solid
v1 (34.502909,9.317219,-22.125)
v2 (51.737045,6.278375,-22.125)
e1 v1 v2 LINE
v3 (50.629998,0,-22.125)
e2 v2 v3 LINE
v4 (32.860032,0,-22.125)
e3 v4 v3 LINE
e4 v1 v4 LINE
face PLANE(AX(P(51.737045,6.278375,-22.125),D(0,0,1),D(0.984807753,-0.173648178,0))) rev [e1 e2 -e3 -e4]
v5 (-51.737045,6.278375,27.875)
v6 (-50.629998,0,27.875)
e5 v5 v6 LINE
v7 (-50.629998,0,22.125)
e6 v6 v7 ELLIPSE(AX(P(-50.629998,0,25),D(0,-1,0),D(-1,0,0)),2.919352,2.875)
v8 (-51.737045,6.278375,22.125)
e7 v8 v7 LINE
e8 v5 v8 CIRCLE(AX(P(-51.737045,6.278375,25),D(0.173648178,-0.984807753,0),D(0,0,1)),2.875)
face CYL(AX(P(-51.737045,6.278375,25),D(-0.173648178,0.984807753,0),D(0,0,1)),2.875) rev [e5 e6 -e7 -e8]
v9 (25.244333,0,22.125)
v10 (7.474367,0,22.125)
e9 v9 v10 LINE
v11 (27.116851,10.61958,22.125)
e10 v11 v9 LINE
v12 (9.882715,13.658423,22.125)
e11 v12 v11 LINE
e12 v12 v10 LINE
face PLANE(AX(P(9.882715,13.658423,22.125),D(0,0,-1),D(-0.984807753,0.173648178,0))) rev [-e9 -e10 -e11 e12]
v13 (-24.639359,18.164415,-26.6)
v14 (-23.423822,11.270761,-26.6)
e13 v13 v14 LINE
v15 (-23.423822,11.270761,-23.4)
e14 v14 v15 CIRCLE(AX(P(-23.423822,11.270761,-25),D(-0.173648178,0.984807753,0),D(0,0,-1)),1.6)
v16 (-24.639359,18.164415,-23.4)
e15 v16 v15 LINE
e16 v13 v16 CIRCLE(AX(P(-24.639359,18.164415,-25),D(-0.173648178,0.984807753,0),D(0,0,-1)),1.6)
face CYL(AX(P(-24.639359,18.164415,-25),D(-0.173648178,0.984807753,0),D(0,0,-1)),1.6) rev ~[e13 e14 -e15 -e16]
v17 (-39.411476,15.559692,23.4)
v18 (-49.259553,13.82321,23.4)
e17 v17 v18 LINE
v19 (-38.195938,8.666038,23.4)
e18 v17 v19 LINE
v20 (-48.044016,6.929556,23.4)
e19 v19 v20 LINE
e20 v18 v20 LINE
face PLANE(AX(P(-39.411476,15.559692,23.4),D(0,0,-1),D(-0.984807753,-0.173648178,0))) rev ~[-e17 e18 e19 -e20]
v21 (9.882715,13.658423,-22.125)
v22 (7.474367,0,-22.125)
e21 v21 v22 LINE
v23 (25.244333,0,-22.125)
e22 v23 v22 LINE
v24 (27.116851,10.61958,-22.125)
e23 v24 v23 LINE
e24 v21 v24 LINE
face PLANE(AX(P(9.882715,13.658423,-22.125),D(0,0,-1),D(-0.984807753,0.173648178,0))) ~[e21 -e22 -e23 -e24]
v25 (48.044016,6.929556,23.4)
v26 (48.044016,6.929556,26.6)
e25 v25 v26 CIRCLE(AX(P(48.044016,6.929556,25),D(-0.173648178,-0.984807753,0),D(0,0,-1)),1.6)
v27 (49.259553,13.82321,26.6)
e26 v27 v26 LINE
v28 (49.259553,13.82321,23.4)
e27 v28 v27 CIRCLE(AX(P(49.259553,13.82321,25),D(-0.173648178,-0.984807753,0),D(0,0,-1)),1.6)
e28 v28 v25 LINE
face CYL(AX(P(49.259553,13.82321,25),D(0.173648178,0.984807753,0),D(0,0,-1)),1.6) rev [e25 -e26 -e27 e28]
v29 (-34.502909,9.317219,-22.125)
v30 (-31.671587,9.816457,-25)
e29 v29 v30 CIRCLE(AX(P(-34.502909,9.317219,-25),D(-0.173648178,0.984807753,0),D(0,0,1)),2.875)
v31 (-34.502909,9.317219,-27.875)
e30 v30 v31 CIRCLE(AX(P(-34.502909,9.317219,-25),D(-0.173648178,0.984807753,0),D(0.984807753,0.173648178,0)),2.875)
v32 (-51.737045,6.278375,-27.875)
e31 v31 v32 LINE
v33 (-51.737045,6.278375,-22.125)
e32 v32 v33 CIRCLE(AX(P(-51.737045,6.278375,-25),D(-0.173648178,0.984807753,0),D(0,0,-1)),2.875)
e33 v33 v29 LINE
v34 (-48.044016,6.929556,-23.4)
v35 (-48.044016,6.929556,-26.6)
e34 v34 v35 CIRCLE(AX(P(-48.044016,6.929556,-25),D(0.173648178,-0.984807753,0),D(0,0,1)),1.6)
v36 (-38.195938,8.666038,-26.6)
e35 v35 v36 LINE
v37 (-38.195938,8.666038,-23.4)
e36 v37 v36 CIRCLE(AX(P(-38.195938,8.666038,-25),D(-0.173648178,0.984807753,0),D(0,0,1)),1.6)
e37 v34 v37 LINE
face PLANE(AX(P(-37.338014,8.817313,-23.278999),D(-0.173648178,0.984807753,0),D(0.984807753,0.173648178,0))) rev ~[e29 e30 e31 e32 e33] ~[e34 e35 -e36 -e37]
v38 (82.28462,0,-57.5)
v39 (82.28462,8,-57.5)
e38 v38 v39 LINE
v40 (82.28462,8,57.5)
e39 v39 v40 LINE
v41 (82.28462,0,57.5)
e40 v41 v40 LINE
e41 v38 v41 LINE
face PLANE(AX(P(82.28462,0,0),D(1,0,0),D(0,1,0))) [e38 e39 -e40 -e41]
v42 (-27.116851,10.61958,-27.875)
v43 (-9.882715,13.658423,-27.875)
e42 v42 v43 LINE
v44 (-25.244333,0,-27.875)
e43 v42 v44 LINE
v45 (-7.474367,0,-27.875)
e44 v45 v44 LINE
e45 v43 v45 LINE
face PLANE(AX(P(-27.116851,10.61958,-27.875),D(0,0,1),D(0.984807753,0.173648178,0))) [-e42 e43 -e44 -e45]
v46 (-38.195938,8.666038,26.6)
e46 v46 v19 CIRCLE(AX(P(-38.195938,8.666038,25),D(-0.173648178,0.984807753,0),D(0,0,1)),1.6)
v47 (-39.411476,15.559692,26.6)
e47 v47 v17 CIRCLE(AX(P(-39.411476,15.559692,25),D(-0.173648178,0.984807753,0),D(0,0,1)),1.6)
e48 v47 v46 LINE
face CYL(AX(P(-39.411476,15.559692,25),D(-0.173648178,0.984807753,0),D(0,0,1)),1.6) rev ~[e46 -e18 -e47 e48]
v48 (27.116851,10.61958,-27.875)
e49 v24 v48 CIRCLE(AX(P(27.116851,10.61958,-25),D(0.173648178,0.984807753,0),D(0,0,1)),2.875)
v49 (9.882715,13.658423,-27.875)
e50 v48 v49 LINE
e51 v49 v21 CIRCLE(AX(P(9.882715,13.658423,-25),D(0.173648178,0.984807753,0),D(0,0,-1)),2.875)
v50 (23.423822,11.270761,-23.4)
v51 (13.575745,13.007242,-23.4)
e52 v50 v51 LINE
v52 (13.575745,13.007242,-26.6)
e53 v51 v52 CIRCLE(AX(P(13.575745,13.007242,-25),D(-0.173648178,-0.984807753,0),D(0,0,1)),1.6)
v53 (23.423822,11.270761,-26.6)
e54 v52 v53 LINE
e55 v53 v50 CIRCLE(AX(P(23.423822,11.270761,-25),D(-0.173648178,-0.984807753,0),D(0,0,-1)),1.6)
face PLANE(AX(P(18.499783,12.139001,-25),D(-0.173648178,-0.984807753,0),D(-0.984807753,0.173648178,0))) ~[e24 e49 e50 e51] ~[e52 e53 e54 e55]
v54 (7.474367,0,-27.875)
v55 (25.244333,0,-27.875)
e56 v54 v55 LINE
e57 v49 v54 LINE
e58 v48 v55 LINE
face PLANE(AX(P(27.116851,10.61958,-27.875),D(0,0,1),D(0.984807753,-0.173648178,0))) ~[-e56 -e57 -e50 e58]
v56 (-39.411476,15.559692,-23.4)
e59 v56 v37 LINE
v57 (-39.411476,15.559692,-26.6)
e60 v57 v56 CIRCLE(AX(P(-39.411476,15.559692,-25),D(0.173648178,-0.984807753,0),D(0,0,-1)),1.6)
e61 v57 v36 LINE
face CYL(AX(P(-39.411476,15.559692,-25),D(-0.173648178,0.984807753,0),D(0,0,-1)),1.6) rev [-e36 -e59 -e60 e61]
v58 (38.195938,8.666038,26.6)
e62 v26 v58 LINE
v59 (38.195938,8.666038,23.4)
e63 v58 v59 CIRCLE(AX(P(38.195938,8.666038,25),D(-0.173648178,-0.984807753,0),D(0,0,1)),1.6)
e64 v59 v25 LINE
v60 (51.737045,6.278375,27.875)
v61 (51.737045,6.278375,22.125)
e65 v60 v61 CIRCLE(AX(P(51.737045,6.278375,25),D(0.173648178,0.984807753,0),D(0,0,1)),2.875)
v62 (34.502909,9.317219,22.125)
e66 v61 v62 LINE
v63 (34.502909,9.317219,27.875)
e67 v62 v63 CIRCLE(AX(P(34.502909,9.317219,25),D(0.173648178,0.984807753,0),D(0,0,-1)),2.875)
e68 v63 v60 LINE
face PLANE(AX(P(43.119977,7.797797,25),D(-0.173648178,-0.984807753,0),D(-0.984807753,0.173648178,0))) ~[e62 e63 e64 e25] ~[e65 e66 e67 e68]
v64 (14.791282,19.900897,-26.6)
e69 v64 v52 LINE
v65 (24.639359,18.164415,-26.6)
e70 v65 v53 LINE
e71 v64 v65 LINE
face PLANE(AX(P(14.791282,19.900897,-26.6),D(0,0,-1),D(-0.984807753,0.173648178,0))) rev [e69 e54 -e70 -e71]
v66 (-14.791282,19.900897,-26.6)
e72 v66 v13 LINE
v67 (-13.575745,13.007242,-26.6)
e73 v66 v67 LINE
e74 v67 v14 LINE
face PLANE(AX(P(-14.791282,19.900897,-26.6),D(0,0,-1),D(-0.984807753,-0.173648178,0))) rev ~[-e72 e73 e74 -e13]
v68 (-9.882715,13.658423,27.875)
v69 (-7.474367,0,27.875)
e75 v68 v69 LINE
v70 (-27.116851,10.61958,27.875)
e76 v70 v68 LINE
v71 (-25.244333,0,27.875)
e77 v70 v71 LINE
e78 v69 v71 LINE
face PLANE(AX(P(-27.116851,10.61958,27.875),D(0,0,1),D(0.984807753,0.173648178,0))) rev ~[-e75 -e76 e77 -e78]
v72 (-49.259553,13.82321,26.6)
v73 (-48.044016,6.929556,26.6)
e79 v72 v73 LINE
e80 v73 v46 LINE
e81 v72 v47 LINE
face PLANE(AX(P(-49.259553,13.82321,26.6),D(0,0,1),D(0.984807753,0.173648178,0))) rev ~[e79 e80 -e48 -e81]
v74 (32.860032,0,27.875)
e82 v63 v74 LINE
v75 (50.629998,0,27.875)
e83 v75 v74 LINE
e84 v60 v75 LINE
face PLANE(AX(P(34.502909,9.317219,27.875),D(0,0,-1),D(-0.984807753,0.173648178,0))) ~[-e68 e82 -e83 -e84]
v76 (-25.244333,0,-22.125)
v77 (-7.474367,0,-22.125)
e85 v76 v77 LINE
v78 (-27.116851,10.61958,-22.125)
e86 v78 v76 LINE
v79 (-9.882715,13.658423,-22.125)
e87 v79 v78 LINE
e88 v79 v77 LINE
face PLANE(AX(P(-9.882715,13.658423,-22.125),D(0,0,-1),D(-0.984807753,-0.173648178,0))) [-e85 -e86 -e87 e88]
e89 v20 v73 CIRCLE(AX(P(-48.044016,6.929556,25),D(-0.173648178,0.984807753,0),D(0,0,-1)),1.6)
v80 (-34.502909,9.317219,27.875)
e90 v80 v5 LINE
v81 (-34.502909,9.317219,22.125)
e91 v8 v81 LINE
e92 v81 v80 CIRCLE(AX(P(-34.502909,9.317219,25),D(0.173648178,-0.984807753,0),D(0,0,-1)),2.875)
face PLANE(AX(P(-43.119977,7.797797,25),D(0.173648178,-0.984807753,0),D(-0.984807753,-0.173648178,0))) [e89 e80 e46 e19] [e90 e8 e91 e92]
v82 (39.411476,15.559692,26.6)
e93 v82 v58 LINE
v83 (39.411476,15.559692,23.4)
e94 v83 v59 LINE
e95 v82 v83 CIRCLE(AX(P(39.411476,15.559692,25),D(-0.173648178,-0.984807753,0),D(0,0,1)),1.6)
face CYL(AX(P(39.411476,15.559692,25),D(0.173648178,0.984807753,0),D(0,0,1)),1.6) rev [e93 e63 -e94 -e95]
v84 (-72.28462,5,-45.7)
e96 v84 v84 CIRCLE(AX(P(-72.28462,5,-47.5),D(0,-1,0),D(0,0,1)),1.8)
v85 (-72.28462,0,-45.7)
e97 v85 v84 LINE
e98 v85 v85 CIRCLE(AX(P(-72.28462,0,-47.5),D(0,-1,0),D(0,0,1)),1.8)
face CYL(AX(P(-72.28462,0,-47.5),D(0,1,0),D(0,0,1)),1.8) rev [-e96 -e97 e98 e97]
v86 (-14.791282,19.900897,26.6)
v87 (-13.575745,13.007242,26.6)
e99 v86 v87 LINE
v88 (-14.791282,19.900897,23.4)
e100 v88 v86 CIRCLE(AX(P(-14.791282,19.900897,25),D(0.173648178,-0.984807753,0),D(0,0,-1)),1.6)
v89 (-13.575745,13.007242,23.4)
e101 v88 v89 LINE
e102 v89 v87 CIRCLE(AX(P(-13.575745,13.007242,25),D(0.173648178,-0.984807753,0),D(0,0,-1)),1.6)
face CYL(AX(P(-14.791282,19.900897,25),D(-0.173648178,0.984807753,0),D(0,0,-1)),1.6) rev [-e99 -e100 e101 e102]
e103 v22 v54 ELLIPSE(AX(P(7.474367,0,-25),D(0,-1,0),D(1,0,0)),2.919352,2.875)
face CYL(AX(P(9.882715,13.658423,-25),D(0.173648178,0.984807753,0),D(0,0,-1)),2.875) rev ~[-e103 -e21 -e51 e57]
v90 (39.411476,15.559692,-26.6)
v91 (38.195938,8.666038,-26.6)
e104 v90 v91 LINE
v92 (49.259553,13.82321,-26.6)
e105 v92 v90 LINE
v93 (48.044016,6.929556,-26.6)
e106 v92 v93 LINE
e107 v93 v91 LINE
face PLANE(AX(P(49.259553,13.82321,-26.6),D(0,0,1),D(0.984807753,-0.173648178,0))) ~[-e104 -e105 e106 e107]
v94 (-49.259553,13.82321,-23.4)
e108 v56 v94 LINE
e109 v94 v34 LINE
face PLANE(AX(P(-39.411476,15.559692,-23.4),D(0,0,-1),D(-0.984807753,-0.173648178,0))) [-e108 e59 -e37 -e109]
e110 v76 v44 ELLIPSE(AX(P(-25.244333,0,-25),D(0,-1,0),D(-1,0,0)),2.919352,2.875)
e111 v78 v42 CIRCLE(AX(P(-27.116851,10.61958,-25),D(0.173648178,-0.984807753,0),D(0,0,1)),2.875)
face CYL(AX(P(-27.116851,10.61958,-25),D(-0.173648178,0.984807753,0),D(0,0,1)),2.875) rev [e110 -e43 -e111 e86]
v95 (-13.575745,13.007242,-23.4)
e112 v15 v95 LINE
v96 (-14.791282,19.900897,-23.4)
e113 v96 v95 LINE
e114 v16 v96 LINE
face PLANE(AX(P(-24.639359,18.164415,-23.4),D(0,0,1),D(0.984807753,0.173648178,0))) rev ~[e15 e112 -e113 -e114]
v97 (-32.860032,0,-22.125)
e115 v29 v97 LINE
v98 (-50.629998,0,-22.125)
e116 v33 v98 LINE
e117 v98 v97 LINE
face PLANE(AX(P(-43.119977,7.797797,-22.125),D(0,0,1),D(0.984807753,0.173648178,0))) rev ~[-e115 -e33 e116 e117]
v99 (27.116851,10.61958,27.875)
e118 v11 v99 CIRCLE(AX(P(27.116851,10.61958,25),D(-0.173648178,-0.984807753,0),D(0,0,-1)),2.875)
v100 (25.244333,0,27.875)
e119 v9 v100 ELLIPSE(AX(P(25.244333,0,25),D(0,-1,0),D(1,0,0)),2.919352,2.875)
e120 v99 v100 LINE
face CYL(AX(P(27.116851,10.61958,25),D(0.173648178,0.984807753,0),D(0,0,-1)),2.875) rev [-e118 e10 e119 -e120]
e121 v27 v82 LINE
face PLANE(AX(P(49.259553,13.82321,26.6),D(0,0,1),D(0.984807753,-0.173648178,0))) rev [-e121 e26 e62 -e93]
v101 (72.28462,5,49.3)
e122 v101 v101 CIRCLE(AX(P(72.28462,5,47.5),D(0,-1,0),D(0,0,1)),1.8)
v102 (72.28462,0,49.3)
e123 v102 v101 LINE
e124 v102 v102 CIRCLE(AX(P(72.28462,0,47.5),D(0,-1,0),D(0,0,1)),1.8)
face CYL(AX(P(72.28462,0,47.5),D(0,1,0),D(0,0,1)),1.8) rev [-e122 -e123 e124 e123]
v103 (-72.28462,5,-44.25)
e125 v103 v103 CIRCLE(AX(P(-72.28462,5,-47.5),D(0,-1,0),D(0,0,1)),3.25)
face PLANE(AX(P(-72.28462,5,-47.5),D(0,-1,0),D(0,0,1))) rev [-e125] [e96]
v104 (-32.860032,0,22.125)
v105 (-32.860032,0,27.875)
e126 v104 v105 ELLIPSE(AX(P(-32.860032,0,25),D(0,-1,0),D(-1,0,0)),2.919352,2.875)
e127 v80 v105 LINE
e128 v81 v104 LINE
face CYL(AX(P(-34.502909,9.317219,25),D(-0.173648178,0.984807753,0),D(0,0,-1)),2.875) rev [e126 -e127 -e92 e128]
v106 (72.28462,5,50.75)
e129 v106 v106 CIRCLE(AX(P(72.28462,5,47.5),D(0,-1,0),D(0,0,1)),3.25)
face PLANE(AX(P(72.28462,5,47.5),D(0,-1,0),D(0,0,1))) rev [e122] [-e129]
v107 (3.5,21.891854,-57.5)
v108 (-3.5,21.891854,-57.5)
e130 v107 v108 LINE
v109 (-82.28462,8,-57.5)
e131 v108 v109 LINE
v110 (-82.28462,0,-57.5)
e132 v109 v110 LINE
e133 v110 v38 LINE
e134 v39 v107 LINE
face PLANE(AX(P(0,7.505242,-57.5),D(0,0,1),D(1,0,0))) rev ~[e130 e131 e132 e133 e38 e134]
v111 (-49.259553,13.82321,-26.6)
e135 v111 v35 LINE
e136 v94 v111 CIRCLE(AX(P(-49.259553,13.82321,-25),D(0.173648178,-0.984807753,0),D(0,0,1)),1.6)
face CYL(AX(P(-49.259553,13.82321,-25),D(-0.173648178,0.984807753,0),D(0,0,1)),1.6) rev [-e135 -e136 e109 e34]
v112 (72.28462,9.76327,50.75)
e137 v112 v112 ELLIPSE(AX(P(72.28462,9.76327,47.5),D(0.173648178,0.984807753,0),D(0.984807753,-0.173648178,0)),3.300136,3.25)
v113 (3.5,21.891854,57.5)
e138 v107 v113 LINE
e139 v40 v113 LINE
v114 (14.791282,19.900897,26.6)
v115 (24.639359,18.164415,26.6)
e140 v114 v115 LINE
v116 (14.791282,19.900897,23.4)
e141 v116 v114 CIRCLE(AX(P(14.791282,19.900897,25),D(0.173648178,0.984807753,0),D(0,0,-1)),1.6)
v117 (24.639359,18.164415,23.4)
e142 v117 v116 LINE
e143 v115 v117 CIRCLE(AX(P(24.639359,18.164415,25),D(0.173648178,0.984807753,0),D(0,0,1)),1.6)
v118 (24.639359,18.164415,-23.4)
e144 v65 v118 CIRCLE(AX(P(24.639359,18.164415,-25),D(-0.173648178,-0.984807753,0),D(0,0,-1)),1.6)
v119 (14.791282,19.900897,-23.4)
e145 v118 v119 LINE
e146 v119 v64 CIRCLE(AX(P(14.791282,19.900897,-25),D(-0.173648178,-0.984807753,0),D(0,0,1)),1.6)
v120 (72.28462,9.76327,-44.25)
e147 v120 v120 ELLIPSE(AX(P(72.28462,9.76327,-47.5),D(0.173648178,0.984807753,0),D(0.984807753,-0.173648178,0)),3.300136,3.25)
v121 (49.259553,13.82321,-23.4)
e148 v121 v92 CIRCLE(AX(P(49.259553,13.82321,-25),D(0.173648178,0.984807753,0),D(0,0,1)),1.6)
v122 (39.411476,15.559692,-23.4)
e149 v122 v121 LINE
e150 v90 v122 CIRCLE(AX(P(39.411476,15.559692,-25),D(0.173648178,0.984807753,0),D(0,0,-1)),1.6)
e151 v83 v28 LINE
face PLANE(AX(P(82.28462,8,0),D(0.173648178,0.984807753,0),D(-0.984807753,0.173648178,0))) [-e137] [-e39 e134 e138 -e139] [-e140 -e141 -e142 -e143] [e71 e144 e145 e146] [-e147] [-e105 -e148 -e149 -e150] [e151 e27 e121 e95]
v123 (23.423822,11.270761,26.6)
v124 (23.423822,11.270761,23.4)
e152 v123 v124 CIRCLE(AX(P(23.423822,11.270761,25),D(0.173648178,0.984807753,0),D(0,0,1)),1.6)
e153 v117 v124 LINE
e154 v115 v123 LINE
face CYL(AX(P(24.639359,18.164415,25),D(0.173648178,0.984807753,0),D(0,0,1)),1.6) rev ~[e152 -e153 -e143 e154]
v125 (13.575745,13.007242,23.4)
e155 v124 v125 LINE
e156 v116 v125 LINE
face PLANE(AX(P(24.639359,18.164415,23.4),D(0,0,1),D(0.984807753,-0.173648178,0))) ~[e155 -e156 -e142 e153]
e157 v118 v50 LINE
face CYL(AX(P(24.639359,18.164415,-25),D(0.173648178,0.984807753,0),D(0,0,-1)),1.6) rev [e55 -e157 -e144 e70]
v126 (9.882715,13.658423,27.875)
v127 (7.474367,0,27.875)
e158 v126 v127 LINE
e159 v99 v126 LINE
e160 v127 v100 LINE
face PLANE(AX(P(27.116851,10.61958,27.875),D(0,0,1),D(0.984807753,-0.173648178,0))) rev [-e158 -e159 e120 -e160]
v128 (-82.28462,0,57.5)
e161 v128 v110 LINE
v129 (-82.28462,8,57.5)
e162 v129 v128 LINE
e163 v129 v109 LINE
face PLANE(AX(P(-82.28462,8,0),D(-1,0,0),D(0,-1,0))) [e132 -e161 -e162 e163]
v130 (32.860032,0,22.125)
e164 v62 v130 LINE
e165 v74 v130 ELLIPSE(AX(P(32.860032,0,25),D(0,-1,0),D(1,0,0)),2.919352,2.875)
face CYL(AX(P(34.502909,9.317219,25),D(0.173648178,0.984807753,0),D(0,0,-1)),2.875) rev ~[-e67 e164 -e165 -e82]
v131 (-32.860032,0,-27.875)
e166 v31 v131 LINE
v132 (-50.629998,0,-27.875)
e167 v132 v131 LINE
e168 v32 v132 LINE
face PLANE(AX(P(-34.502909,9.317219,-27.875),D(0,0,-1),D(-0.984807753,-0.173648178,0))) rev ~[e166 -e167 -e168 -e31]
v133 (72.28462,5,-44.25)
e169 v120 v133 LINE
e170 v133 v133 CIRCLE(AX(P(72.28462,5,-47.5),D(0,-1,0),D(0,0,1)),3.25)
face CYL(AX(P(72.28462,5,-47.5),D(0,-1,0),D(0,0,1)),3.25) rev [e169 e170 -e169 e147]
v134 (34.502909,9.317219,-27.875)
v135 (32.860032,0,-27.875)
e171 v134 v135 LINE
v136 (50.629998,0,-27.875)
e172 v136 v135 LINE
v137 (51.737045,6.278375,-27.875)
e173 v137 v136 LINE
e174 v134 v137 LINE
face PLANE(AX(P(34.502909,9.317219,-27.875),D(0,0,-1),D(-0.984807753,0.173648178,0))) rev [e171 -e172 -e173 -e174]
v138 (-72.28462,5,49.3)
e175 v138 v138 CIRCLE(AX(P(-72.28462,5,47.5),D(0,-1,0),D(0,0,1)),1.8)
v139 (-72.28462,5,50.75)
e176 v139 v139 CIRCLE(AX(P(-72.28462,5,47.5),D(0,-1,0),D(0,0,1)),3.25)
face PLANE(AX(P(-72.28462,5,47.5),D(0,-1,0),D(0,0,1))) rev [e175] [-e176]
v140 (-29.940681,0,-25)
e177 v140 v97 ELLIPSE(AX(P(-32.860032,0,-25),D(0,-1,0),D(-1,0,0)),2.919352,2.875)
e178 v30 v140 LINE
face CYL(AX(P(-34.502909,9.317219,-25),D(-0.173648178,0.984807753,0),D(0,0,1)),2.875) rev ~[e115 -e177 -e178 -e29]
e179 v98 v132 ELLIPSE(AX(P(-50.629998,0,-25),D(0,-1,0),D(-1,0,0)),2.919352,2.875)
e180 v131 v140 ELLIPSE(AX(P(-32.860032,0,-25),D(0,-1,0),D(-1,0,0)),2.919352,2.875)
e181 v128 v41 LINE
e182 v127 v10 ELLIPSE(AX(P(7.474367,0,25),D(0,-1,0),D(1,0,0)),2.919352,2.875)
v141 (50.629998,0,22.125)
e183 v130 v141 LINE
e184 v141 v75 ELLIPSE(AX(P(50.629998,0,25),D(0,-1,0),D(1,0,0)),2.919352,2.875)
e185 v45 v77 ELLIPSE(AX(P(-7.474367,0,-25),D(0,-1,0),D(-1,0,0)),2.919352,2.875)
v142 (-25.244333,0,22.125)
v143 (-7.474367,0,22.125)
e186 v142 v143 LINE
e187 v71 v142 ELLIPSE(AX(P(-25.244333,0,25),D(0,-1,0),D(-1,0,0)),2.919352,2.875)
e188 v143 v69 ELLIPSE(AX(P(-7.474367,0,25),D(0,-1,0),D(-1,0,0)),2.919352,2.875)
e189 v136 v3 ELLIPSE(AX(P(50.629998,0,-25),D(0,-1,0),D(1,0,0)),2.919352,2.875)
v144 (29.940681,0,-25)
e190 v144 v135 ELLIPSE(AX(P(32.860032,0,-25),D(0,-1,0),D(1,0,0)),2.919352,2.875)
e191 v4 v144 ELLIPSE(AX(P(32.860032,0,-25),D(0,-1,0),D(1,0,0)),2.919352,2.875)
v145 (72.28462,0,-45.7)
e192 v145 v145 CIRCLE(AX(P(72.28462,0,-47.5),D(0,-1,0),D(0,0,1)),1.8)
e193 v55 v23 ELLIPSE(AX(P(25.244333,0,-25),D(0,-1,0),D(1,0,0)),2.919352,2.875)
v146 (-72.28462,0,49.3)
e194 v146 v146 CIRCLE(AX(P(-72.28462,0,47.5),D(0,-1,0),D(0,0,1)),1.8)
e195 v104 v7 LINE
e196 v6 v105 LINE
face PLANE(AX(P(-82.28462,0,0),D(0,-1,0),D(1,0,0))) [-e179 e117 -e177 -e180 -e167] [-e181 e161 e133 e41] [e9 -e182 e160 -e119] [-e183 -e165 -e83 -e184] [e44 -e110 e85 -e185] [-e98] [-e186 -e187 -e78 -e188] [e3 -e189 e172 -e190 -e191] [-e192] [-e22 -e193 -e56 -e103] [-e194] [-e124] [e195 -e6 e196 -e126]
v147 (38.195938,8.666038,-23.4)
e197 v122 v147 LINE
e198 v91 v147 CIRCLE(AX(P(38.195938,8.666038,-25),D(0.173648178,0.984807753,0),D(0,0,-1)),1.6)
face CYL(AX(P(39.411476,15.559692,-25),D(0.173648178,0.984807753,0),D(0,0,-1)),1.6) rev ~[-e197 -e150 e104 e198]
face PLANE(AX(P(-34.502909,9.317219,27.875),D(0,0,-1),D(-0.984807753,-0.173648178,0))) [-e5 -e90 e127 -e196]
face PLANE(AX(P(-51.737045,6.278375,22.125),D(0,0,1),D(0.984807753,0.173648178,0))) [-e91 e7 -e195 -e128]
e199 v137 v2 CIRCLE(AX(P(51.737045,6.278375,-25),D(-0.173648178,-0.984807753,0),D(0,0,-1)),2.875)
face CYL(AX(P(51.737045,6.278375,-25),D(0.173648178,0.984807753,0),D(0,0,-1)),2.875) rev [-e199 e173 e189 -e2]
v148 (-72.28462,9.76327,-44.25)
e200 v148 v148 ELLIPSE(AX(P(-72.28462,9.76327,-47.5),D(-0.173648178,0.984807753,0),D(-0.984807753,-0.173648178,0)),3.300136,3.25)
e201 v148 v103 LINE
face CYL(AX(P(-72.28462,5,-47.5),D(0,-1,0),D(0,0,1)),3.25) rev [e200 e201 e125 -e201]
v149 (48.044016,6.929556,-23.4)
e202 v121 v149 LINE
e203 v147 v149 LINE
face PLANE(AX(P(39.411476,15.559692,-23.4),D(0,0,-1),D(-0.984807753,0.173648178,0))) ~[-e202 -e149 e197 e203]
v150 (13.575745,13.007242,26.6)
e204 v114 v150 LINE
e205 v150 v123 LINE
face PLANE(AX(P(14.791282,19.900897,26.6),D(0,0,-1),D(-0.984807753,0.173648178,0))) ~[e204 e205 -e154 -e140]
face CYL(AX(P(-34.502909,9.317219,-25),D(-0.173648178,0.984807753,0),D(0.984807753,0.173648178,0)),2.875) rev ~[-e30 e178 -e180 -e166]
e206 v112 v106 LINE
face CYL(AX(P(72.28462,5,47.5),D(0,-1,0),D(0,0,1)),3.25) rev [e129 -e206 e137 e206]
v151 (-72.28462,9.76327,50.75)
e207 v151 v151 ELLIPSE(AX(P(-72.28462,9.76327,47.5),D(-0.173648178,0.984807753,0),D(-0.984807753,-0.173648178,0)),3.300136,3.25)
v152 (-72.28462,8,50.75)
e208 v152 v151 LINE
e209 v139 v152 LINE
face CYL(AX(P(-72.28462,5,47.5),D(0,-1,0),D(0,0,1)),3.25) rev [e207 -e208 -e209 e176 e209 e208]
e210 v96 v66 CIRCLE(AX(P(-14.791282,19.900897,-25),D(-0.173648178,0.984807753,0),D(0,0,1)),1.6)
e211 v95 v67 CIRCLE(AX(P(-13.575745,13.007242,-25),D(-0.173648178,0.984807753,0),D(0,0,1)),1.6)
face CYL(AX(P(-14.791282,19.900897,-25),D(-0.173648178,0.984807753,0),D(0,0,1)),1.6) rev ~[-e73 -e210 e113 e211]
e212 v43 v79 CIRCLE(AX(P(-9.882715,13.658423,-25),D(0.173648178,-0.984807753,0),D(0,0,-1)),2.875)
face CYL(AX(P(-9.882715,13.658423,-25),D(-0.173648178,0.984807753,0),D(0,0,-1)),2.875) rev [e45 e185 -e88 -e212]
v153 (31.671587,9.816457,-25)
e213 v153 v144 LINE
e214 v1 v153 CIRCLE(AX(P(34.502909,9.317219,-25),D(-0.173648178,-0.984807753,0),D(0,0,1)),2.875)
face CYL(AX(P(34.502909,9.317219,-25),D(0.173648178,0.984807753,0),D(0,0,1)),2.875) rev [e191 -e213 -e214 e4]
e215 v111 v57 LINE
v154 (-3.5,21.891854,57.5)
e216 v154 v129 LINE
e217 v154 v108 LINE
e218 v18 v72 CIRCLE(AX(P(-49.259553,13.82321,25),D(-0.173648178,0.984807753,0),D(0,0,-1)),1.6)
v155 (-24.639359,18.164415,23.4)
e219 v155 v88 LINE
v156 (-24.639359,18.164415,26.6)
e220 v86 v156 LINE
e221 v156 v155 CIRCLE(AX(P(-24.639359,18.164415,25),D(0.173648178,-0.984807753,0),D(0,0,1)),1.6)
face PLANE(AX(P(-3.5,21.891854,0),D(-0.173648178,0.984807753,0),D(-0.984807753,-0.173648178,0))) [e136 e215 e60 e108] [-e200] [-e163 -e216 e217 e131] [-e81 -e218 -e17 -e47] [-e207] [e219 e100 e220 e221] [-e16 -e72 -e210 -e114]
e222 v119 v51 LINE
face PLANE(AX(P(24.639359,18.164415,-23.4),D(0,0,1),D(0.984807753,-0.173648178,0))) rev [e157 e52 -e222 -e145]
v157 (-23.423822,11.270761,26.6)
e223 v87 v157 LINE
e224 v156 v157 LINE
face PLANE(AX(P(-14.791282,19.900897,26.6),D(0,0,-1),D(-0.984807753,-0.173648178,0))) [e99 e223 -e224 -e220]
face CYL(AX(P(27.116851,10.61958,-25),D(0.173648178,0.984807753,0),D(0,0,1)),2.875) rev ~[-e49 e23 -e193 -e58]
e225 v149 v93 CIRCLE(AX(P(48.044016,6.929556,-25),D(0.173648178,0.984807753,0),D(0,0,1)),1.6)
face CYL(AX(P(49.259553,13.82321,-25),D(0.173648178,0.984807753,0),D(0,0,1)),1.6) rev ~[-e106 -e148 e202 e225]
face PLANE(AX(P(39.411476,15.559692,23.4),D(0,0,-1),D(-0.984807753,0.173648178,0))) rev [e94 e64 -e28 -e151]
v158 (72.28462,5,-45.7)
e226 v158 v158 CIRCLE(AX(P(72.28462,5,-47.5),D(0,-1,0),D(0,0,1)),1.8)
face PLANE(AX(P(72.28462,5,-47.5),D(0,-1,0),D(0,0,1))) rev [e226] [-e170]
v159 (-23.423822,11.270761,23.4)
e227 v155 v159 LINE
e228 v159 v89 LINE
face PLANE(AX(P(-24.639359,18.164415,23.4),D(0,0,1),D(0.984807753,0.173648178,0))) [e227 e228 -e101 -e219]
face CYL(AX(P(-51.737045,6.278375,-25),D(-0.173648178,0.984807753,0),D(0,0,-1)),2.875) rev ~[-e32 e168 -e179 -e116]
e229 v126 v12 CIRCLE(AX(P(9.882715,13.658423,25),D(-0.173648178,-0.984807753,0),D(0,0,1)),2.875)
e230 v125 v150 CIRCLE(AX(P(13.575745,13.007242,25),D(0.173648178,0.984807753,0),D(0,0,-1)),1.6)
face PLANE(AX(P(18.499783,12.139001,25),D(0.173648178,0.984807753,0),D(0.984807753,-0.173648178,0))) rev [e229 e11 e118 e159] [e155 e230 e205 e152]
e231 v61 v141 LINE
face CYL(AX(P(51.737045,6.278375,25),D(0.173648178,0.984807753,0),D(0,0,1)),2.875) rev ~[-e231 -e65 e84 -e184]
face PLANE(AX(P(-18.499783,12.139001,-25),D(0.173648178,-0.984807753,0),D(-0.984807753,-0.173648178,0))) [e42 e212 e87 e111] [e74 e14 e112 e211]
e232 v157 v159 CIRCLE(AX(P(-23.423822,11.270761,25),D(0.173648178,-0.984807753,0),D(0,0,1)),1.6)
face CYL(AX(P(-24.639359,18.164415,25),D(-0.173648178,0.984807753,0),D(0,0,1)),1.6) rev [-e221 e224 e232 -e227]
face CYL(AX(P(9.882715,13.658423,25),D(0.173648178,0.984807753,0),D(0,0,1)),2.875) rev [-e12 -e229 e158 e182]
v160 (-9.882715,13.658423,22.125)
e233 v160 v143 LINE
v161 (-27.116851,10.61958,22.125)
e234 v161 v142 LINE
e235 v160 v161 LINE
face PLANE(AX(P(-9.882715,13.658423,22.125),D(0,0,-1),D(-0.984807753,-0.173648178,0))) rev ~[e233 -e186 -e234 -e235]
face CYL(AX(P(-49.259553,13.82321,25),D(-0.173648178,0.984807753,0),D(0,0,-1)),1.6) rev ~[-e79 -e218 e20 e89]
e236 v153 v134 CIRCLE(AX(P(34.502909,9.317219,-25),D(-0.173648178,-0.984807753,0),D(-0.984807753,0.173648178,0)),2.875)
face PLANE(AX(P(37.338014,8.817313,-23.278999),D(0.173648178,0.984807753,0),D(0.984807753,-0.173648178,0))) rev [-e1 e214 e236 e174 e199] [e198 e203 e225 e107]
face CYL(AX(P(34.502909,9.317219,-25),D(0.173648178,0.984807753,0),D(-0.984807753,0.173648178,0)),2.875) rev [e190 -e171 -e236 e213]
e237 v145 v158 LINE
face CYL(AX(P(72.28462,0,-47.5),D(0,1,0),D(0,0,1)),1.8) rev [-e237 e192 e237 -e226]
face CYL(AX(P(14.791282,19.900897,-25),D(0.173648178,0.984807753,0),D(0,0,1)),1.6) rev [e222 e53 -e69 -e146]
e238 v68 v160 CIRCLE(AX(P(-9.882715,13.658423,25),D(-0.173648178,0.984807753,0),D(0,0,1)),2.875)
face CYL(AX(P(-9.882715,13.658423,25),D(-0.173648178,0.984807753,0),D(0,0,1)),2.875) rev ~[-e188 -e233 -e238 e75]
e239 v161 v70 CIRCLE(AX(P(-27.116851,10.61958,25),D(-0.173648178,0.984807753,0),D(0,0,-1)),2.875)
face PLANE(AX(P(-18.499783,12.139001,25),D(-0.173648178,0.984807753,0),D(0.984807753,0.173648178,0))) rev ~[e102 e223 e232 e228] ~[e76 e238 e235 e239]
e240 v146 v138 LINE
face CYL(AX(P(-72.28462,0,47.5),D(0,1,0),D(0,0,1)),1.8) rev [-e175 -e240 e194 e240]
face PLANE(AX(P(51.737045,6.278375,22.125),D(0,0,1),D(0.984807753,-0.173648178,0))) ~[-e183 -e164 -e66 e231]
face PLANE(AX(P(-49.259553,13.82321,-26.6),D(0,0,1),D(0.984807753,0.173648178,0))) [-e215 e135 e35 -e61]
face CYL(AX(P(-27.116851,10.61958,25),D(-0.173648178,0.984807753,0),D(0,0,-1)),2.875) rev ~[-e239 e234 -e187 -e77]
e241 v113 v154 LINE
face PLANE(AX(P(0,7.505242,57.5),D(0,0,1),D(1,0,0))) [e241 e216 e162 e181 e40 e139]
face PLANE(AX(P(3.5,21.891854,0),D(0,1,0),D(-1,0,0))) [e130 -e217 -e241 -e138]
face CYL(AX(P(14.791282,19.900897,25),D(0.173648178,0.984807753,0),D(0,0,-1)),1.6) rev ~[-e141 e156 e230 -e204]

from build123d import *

# Parameters (mm, degrees)
BOSS_EXTRUDE1_DEPTH           = 57.5
CUT_EXTRUDE1_DEPTH            = 7
CUT_EXTRUDE4_START            = -7
CUT_EXTRUDE4_DEPTH            = 99.838825225
CBORE_FOR_M3_SHCS1_AT_2_COUNT = 2
CBORE_FOR_M3_SHCS1_AT_2_PITCH = 95
CBORE_FOR_M3_SHCS1_AT_3_COUNT = 2
CBORE_FOR_M3_SHCS1_AT_3_PITCH = 144.569240482
CBORE_FOR_M3_SHCS1_AT_4_COUNT = 2
CBORE_FOR_M3_SHCS1_AT_4_PITCH = 172.989205714
SKETCH14_R                    = 3.25
CUT_EXTRUDE5_DEPTH            = 102.795596501


with BuildPart() as part:
    # Sketch1 → Boss-Extrude1 (new, symmetric)
    with BuildSketch(Plane.XY):
        Polygon((-82.284620241, 0), (82.284620241, 0), (82.284620241, 8), (3.5, 21.891854213), (-3.5, 21.891854213), (-82.284620241, 8), align=None)
    extrude(amount=BOSS_EXTRUDE1_DEPTH, both=True)

    # Sketch2 → Cut-Extrude1 (cut)
    with BuildSketch(Plane(origin=(-3.849265471, 21.830269287, 0), x_dir=(0.9848077530122079, 0.17364817766693139, 0), z_dir=(-0.17364817766693139, 0.9848077530122079, 0))):
        with BuildLine():
            Line((-46.110814579, 26.6), (-36.110814579, 26.6))
            ThreePointArc((-36.110814579, 26.6), (-34.510814579, 25), (-36.110814579, 23.4))
            Line((-36.110814579, 23.4), (-46.110814579, 23.4))
            ThreePointArc((-46.110814579, 23.4), (-47.710814579, 25), (-46.110814579, 26.6))
        make_face()
        with BuildLine():
            Line((-11.110814579, -26.6), (-21.110814579, -26.6))
            ThreePointArc((-21.110814579, -26.6), (-22.710814579, -25), (-21.110814579, -23.4))
            Line((-21.110814579, -23.4), (-11.110814579, -23.4))
            ThreePointArc((-11.110814579, -23.4), (-9.510814579, -25), (-11.110814579, -26.6))
        make_face()
        with BuildLine():
            Line((-11.110814579, 26.6), (-21.110814579, 26.6))
            ThreePointArc((-21.110814579, 26.6), (-22.710814579, 25), (-21.110814579, 23.4))
            Line((-21.110814579, 23.4), (-11.110814579, 23.4))
            ThreePointArc((-11.110814579, 23.4), (-9.510814579, 25), (-11.110814579, 26.6))
        make_face()
        with BuildLine():
            Line((-46.110814579, -26.6), (-36.110814579, -26.6))
            ThreePointArc((-36.110814579, -26.6), (-34.510814579, -25), (-36.110814579, -23.4))
            Line((-36.110814579, -23.4), (-46.110814579, -23.4))
            ThreePointArc((-46.110814579, -23.4), (-47.710814579, -25), (-46.110814579, -26.6))
        make_face()
    cut_extrude1 = extrude(amount=-CUT_EXTRUDE1_DEPTH, mode=Mode.SUBTRACT)

    # Sketch7 → Cut-Extrude4 (cut, through all)
    # profile 1 of 10: a face of its own
    with BuildSketch(Plane(origin=(-3.849265471, 21.830269287, 0), x_dir=(0.9848077530122079, 0.1736481776669313, 0), z_dir=(-0.1736481776669313, 0.9848077530122079, 0)).offset(CUT_EXTRUDE4_START)):
        with BuildLine():
            ThreePointArc((-32.360814579, 22.125), (-30.327882583, 22.967068004), (-29.485814579, 25))
            Line((-29.485814579, 25), (-34.510814579, 25))
            ThreePointArc((-34.510814579, 25), (-34.979443729, 23.86862915), (-36.110814579, 23.4))
            Line((-36.110814579, 23.4), (-41.110814579, 23.4))
            Line((-41.110814579, 23.4), (-41.110814579, 22.125))
            Line((-41.110814579, 22.125), (-32.360814579, 22.125))
        make_face()
    # profile 2 of 10: a face of its own
    with BuildSketch(Plane(origin=(-3.849265471, 21.830269287, 0), x_dir=(0.9848077530122079, 0.1736481776669313, 0), z_dir=(-0.1736481776669313, 0.9848077530122079, 0)).offset(CUT_EXTRUDE4_START)):
        with BuildLine():
            Line((-32.360814579, 27.875), (-49.860814579, 27.875))
            ThreePointArc((-49.860814579, 27.875), (-52.735814579, 25), (-49.860814579, 22.125))
            Line((-49.860814579, 22.125), (-41.110814579, 22.125))
            Line((-41.110814579, 22.125), (-41.110814579, 23.4))
            Line((-41.110814579, 23.4), (-46.110814579, 23.4))
            ThreePointArc((-46.110814579, 23.4), (-47.710814579, 25), (-46.110814579, 26.6))
            Line((-46.110814579, 26.6), (-36.110814579, 26.6))
            ThreePointArc((-36.110814579, 26.6), (-34.979443729, 26.13137085), (-34.510814579, 25))
            Line((-34.510814579, 25), (-29.485814579, 25))
            ThreePointArc((-29.485814579, 25), (-30.327882583, 27.032931996), (-32.360814579, 27.875))
        make_face()
    # profile 3 of 10: a face of its own
    with BuildSketch(Plane(origin=(-3.849265471, 21.830269287, 0), x_dir=(0.9848077530122079, 0.1736481776669313, 0), z_dir=(-0.1736481776669313, 0.9848077530122079, 0)).offset(CUT_EXTRUDE4_START)):
        with BuildLine():
            ThreePointArc((-36.110814579, 23.4), (-34.979443729, 23.86862915), (-34.510814579, 25))
            Line((-34.510814579, 25), (-41.110814579, 25))
            Line((-41.110814579, 25), (-41.110814579, 23.4))
            Line((-41.110814579, 23.4), (-36.110814579, 23.4))
        make_face()
    # profile 4 of 10: a face of its own
    with BuildSketch(Plane(origin=(-3.849265471, 21.830269287, 0), x_dir=(0.9848077530122079, 0.1736481776669313, 0), z_dir=(-0.1736481776669313, 0.9848077530122079, 0)).offset(CUT_EXTRUDE4_START)):
        with BuildLine():
            Line((-41.110814579, 25), (-34.510814579, 25))
            ThreePointArc((-34.510814579, 25), (-34.979443729, 26.13137085), (-36.110814579, 26.6))
            Line((-36.110814579, 26.6), (-46.110814579, 26.6))
            ThreePointArc((-46.110814579, 26.6), (-47.710814579, 25), (-46.110814579, 23.4))
            Line((-46.110814579, 23.4), (-41.110814579, 23.4))
            Line((-41.110814579, 23.4), (-41.110814579, 25))
        make_face()
    # profile 5 of 10: a face of its own
    with BuildSketch(Plane(origin=(-3.849265471, 21.830269287, 0), x_dir=(0.9848077530122079, 0.1736481776669313, 0), z_dir=(-0.1736481776669313, 0.9848077530122079, 0)).offset(CUT_EXTRUDE4_START)):
        with BuildLine():
            ThreePointArc((-24.860814579, 22.125), (-27.735814579, 25), (-24.860814579, 27.875))
            Line((-24.860814579, 27.875), (-7.360814579, 27.875))
            ThreePointArc((-7.360814579, 27.875), (-4.485814579, 25), (-7.360814579, 22.125))
            Line((-7.360814579, 22.125), (-24.860814579, 22.125))
        make_face()
        with BuildLine():
            ThreePointArc((-11.110814579, 26.6), (-9.510814579, 25), (-11.110814579, 23.4))
            Line((-11.110814579, 23.4), (-21.110814579, 23.4))
            ThreePointArc((-21.110814579, 23.4), (-22.710814579, 25), (-21.110814579, 26.6))
            Line((-21.110814579, 26.6), (-11.110814579, 26.6))
        make_face(mode=Mode.SUBTRACT)
    # profile 6 of 10: a face of its own
    with BuildSketch(Plane(origin=(-3.849265471, 21.830269287, 0), x_dir=(0.9848077530122079, 0.1736481776669313, 0), z_dir=(-0.1736481776669313, 0.9848077530122079, 0)).offset(CUT_EXTRUDE4_START)):
        with BuildLine():
            Line((-11.110814579, 23.4), (-21.110814579, 23.4))
            ThreePointArc((-21.110814579, 23.4), (-22.710814579, 25), (-21.110814579, 26.6))
            Line((-21.110814579, 26.6), (-11.110814579, 26.6))
            ThreePointArc((-11.110814579, 26.6), (-9.510814579, 25), (-11.110814579, 23.4))
        make_face()
    # profile 7 of 10: a face of its own
    with BuildSketch(Plane(origin=(-3.849265471, 21.830269287, 0), x_dir=(0.9848077530122079, 0.1736481776669313, 0), z_dir=(-0.1736481776669313, 0.9848077530122079, 0)).offset(CUT_EXTRUDE4_START)):
        with BuildLine():
            ThreePointArc((-32.360814579, -22.125), (-29.485814579, -25), (-32.360814579, -27.875))
            Line((-32.360814579, -27.875), (-49.860814579, -27.875))
            ThreePointArc((-49.860814579, -27.875), (-52.735814579, -25), (-49.860814579, -22.125))
            Line((-49.860814579, -22.125), (-32.360814579, -22.125))
        make_face()
        with BuildLine():
            ThreePointArc((-46.110814579, -26.6), (-47.710814579, -25), (-46.110814579, -23.4))
            Line((-46.110814579, -23.4), (-36.110814579, -23.4))
            ThreePointArc((-36.110814579, -23.4), (-34.510814579, -25), (-36.110814579, -26.6))
            Line((-36.110814579, -26.6), (-46.110814579, -26.6))
        make_face(mode=Mode.SUBTRACT)
    # profile 8 of 10: a face of its own
    with BuildSketch(Plane(origin=(-3.849265471, 21.830269287, 0), x_dir=(0.9848077530122079, 0.1736481776669313, 0), z_dir=(-0.1736481776669313, 0.9848077530122079, 0)).offset(CUT_EXTRUDE4_START)):
        with BuildLine():
            Line((-46.110814579, -23.4), (-36.110814579, -23.4))
            ThreePointArc((-36.110814579, -23.4), (-34.510814579, -25), (-36.110814579, -26.6))
            Line((-36.110814579, -26.6), (-46.110814579, -26.6))
            ThreePointArc((-46.110814579, -26.6), (-47.710814579, -25), (-46.110814579, -23.4))
        make_face()
    # profile 9 of 10: a face of its own
    with BuildSketch(Plane(origin=(-3.849265471, 21.830269287, 0), x_dir=(0.9848077530122079, 0.1736481776669313, 0), z_dir=(-0.1736481776669313, 0.9848077530122079, 0)).offset(CUT_EXTRUDE4_START)):
        with BuildLine():
            Line((-7.360814579, -22.125), (-24.860814579, -22.125))
            ThreePointArc((-24.860814579, -22.125), (-27.735814579, -25), (-24.860814579, -27.875))
            Line((-24.860814579, -27.875), (-7.360814579, -27.875))
            ThreePointArc((-7.360814579, -27.875), (-4.485814579, -25), (-7.360814579, -22.125))
        make_face()
        with BuildLine():
            ThreePointArc((-21.110814579, -26.6), (-22.710814579, -25), (-21.110814579, -23.4))
            Line((-21.110814579, -23.4), (-11.110814579, -23.4))
            ThreePointArc((-11.110814579, -23.4), (-9.510814579, -25), (-11.110814579, -26.6))
            Line((-11.110814579, -26.6), (-21.110814579, -26.6))
        make_face(mode=Mode.SUBTRACT)
    # profile 10 of 10: a face of its own
    with BuildSketch(Plane(origin=(-3.849265471, 21.830269287, 0), x_dir=(0.9848077530122079, 0.1736481776669313, 0), z_dir=(-0.1736481776669313, 0.9848077530122079, 0)).offset(CUT_EXTRUDE4_START)):
        with BuildLine():
            Line((-21.110814579, -23.4), (-11.110814579, -23.4))
            ThreePointArc((-11.110814579, -23.4), (-9.510814579, -25), (-11.110814579, -26.6))
            Line((-11.110814579, -26.6), (-21.110814579, -26.6))
            ThreePointArc((-21.110814579, -26.6), (-22.710814579, -25), (-21.110814579, -23.4))
        make_face()
    cut_extrude4 = extrude(amount=-CUT_EXTRUDE4_DEPTH, mode=Mode.SUBTRACT)

    # Mirror1: Cut-Extrude1, Cut-Extrude4 across plane
    add(cut_extrude1.mirror(Plane(origin=(0, 0, 0), x_dir=(0, 0, 1), z_dir=(1, 0, 0))), mode=Mode.SUBTRACT)
    add(cut_extrude4.mirror(Plane(origin=(0, 0, 0), x_dir=(0, 0, 1), z_dir=(1, 0, 0))), mode=Mode.SUBTRACT)

    # Sketch12 → CBORE for M3 SHCS1 (revolve, cut)
    with BuildSketch(Plane(origin=(72.284620241, 8, -47.5), x_dir=(0, 0, 1), z_dir=(1, 0, 0))):
        Polygon((0, 0), (0, 8), (1.8, 8), (1.8, 3), (3.25, 3), (3.25, 0), align=None)
    cbore_for_m3_shcs1 = revolve(axis=Axis((72.284620241, 14.35, -47.5), (0, -1, 0)), mode=Mode.SUBTRACT)

    # CBORE for M3 SHCS1 at 2: CBORE for M3 SHCS1 ×2
    with Locations(*[(0, 0, i * CBORE_FOR_M3_SHCS1_AT_2_PITCH) for i in range(1, CBORE_FOR_M3_SHCS1_AT_2_COUNT)]):
        add(cbore_for_m3_shcs1, mode=Mode.SUBTRACT)

    # CBORE for M3 SHCS1 at 3: CBORE for M3 SHCS1 ×2
    with Locations(*[(-i * CBORE_FOR_M3_SHCS1_AT_3_PITCH, 0, 0) for i in range(1, CBORE_FOR_M3_SHCS1_AT_3_COUNT)]):
        add(cbore_for_m3_shcs1, mode=Mode.SUBTRACT)

    # CBORE for M3 SHCS1 at 4: CBORE for M3 SHCS1 ×2
    with Locations(*[Vector(-0.8357124936514465, 0, 0.5491672131098877) * (i * CBORE_FOR_M3_SHCS1_AT_4_PITCH) for i in range(1, CBORE_FOR_M3_SHCS1_AT_4_COUNT)]):
        add(cbore_for_m3_shcs1, mode=Mode.SUBTRACT)

    # Sketch14 → Cut-Extrude5 (cut, through all)
    with BuildSketch(Plane(origin=(0, 5, 0), x_dir=(1, 0, 0), z_dir=(0, 1, 0))):
        with Locations(Location((-72.284620241, -47.5, 0), (0, 0, 270))):
            Circle(SKETCH14_R)
        with Locations(Location((-72.284620241, 47.5, 0), (0, 0, 270))):
            Circle(SKETCH14_R)
        with Locations(Location((72.284620241, -47.5, 0), (0, 0, 270))):
            Circle(SKETCH14_R)
        with Locations(Location((72.284620241, 47.5, 0), (0, 0, 270))):
            Circle(SKETCH14_R)
    extrude(amount=CUT_EXTRUDE5_DEPTH, mode=Mode.SUBTRACT)


solid = part.part
